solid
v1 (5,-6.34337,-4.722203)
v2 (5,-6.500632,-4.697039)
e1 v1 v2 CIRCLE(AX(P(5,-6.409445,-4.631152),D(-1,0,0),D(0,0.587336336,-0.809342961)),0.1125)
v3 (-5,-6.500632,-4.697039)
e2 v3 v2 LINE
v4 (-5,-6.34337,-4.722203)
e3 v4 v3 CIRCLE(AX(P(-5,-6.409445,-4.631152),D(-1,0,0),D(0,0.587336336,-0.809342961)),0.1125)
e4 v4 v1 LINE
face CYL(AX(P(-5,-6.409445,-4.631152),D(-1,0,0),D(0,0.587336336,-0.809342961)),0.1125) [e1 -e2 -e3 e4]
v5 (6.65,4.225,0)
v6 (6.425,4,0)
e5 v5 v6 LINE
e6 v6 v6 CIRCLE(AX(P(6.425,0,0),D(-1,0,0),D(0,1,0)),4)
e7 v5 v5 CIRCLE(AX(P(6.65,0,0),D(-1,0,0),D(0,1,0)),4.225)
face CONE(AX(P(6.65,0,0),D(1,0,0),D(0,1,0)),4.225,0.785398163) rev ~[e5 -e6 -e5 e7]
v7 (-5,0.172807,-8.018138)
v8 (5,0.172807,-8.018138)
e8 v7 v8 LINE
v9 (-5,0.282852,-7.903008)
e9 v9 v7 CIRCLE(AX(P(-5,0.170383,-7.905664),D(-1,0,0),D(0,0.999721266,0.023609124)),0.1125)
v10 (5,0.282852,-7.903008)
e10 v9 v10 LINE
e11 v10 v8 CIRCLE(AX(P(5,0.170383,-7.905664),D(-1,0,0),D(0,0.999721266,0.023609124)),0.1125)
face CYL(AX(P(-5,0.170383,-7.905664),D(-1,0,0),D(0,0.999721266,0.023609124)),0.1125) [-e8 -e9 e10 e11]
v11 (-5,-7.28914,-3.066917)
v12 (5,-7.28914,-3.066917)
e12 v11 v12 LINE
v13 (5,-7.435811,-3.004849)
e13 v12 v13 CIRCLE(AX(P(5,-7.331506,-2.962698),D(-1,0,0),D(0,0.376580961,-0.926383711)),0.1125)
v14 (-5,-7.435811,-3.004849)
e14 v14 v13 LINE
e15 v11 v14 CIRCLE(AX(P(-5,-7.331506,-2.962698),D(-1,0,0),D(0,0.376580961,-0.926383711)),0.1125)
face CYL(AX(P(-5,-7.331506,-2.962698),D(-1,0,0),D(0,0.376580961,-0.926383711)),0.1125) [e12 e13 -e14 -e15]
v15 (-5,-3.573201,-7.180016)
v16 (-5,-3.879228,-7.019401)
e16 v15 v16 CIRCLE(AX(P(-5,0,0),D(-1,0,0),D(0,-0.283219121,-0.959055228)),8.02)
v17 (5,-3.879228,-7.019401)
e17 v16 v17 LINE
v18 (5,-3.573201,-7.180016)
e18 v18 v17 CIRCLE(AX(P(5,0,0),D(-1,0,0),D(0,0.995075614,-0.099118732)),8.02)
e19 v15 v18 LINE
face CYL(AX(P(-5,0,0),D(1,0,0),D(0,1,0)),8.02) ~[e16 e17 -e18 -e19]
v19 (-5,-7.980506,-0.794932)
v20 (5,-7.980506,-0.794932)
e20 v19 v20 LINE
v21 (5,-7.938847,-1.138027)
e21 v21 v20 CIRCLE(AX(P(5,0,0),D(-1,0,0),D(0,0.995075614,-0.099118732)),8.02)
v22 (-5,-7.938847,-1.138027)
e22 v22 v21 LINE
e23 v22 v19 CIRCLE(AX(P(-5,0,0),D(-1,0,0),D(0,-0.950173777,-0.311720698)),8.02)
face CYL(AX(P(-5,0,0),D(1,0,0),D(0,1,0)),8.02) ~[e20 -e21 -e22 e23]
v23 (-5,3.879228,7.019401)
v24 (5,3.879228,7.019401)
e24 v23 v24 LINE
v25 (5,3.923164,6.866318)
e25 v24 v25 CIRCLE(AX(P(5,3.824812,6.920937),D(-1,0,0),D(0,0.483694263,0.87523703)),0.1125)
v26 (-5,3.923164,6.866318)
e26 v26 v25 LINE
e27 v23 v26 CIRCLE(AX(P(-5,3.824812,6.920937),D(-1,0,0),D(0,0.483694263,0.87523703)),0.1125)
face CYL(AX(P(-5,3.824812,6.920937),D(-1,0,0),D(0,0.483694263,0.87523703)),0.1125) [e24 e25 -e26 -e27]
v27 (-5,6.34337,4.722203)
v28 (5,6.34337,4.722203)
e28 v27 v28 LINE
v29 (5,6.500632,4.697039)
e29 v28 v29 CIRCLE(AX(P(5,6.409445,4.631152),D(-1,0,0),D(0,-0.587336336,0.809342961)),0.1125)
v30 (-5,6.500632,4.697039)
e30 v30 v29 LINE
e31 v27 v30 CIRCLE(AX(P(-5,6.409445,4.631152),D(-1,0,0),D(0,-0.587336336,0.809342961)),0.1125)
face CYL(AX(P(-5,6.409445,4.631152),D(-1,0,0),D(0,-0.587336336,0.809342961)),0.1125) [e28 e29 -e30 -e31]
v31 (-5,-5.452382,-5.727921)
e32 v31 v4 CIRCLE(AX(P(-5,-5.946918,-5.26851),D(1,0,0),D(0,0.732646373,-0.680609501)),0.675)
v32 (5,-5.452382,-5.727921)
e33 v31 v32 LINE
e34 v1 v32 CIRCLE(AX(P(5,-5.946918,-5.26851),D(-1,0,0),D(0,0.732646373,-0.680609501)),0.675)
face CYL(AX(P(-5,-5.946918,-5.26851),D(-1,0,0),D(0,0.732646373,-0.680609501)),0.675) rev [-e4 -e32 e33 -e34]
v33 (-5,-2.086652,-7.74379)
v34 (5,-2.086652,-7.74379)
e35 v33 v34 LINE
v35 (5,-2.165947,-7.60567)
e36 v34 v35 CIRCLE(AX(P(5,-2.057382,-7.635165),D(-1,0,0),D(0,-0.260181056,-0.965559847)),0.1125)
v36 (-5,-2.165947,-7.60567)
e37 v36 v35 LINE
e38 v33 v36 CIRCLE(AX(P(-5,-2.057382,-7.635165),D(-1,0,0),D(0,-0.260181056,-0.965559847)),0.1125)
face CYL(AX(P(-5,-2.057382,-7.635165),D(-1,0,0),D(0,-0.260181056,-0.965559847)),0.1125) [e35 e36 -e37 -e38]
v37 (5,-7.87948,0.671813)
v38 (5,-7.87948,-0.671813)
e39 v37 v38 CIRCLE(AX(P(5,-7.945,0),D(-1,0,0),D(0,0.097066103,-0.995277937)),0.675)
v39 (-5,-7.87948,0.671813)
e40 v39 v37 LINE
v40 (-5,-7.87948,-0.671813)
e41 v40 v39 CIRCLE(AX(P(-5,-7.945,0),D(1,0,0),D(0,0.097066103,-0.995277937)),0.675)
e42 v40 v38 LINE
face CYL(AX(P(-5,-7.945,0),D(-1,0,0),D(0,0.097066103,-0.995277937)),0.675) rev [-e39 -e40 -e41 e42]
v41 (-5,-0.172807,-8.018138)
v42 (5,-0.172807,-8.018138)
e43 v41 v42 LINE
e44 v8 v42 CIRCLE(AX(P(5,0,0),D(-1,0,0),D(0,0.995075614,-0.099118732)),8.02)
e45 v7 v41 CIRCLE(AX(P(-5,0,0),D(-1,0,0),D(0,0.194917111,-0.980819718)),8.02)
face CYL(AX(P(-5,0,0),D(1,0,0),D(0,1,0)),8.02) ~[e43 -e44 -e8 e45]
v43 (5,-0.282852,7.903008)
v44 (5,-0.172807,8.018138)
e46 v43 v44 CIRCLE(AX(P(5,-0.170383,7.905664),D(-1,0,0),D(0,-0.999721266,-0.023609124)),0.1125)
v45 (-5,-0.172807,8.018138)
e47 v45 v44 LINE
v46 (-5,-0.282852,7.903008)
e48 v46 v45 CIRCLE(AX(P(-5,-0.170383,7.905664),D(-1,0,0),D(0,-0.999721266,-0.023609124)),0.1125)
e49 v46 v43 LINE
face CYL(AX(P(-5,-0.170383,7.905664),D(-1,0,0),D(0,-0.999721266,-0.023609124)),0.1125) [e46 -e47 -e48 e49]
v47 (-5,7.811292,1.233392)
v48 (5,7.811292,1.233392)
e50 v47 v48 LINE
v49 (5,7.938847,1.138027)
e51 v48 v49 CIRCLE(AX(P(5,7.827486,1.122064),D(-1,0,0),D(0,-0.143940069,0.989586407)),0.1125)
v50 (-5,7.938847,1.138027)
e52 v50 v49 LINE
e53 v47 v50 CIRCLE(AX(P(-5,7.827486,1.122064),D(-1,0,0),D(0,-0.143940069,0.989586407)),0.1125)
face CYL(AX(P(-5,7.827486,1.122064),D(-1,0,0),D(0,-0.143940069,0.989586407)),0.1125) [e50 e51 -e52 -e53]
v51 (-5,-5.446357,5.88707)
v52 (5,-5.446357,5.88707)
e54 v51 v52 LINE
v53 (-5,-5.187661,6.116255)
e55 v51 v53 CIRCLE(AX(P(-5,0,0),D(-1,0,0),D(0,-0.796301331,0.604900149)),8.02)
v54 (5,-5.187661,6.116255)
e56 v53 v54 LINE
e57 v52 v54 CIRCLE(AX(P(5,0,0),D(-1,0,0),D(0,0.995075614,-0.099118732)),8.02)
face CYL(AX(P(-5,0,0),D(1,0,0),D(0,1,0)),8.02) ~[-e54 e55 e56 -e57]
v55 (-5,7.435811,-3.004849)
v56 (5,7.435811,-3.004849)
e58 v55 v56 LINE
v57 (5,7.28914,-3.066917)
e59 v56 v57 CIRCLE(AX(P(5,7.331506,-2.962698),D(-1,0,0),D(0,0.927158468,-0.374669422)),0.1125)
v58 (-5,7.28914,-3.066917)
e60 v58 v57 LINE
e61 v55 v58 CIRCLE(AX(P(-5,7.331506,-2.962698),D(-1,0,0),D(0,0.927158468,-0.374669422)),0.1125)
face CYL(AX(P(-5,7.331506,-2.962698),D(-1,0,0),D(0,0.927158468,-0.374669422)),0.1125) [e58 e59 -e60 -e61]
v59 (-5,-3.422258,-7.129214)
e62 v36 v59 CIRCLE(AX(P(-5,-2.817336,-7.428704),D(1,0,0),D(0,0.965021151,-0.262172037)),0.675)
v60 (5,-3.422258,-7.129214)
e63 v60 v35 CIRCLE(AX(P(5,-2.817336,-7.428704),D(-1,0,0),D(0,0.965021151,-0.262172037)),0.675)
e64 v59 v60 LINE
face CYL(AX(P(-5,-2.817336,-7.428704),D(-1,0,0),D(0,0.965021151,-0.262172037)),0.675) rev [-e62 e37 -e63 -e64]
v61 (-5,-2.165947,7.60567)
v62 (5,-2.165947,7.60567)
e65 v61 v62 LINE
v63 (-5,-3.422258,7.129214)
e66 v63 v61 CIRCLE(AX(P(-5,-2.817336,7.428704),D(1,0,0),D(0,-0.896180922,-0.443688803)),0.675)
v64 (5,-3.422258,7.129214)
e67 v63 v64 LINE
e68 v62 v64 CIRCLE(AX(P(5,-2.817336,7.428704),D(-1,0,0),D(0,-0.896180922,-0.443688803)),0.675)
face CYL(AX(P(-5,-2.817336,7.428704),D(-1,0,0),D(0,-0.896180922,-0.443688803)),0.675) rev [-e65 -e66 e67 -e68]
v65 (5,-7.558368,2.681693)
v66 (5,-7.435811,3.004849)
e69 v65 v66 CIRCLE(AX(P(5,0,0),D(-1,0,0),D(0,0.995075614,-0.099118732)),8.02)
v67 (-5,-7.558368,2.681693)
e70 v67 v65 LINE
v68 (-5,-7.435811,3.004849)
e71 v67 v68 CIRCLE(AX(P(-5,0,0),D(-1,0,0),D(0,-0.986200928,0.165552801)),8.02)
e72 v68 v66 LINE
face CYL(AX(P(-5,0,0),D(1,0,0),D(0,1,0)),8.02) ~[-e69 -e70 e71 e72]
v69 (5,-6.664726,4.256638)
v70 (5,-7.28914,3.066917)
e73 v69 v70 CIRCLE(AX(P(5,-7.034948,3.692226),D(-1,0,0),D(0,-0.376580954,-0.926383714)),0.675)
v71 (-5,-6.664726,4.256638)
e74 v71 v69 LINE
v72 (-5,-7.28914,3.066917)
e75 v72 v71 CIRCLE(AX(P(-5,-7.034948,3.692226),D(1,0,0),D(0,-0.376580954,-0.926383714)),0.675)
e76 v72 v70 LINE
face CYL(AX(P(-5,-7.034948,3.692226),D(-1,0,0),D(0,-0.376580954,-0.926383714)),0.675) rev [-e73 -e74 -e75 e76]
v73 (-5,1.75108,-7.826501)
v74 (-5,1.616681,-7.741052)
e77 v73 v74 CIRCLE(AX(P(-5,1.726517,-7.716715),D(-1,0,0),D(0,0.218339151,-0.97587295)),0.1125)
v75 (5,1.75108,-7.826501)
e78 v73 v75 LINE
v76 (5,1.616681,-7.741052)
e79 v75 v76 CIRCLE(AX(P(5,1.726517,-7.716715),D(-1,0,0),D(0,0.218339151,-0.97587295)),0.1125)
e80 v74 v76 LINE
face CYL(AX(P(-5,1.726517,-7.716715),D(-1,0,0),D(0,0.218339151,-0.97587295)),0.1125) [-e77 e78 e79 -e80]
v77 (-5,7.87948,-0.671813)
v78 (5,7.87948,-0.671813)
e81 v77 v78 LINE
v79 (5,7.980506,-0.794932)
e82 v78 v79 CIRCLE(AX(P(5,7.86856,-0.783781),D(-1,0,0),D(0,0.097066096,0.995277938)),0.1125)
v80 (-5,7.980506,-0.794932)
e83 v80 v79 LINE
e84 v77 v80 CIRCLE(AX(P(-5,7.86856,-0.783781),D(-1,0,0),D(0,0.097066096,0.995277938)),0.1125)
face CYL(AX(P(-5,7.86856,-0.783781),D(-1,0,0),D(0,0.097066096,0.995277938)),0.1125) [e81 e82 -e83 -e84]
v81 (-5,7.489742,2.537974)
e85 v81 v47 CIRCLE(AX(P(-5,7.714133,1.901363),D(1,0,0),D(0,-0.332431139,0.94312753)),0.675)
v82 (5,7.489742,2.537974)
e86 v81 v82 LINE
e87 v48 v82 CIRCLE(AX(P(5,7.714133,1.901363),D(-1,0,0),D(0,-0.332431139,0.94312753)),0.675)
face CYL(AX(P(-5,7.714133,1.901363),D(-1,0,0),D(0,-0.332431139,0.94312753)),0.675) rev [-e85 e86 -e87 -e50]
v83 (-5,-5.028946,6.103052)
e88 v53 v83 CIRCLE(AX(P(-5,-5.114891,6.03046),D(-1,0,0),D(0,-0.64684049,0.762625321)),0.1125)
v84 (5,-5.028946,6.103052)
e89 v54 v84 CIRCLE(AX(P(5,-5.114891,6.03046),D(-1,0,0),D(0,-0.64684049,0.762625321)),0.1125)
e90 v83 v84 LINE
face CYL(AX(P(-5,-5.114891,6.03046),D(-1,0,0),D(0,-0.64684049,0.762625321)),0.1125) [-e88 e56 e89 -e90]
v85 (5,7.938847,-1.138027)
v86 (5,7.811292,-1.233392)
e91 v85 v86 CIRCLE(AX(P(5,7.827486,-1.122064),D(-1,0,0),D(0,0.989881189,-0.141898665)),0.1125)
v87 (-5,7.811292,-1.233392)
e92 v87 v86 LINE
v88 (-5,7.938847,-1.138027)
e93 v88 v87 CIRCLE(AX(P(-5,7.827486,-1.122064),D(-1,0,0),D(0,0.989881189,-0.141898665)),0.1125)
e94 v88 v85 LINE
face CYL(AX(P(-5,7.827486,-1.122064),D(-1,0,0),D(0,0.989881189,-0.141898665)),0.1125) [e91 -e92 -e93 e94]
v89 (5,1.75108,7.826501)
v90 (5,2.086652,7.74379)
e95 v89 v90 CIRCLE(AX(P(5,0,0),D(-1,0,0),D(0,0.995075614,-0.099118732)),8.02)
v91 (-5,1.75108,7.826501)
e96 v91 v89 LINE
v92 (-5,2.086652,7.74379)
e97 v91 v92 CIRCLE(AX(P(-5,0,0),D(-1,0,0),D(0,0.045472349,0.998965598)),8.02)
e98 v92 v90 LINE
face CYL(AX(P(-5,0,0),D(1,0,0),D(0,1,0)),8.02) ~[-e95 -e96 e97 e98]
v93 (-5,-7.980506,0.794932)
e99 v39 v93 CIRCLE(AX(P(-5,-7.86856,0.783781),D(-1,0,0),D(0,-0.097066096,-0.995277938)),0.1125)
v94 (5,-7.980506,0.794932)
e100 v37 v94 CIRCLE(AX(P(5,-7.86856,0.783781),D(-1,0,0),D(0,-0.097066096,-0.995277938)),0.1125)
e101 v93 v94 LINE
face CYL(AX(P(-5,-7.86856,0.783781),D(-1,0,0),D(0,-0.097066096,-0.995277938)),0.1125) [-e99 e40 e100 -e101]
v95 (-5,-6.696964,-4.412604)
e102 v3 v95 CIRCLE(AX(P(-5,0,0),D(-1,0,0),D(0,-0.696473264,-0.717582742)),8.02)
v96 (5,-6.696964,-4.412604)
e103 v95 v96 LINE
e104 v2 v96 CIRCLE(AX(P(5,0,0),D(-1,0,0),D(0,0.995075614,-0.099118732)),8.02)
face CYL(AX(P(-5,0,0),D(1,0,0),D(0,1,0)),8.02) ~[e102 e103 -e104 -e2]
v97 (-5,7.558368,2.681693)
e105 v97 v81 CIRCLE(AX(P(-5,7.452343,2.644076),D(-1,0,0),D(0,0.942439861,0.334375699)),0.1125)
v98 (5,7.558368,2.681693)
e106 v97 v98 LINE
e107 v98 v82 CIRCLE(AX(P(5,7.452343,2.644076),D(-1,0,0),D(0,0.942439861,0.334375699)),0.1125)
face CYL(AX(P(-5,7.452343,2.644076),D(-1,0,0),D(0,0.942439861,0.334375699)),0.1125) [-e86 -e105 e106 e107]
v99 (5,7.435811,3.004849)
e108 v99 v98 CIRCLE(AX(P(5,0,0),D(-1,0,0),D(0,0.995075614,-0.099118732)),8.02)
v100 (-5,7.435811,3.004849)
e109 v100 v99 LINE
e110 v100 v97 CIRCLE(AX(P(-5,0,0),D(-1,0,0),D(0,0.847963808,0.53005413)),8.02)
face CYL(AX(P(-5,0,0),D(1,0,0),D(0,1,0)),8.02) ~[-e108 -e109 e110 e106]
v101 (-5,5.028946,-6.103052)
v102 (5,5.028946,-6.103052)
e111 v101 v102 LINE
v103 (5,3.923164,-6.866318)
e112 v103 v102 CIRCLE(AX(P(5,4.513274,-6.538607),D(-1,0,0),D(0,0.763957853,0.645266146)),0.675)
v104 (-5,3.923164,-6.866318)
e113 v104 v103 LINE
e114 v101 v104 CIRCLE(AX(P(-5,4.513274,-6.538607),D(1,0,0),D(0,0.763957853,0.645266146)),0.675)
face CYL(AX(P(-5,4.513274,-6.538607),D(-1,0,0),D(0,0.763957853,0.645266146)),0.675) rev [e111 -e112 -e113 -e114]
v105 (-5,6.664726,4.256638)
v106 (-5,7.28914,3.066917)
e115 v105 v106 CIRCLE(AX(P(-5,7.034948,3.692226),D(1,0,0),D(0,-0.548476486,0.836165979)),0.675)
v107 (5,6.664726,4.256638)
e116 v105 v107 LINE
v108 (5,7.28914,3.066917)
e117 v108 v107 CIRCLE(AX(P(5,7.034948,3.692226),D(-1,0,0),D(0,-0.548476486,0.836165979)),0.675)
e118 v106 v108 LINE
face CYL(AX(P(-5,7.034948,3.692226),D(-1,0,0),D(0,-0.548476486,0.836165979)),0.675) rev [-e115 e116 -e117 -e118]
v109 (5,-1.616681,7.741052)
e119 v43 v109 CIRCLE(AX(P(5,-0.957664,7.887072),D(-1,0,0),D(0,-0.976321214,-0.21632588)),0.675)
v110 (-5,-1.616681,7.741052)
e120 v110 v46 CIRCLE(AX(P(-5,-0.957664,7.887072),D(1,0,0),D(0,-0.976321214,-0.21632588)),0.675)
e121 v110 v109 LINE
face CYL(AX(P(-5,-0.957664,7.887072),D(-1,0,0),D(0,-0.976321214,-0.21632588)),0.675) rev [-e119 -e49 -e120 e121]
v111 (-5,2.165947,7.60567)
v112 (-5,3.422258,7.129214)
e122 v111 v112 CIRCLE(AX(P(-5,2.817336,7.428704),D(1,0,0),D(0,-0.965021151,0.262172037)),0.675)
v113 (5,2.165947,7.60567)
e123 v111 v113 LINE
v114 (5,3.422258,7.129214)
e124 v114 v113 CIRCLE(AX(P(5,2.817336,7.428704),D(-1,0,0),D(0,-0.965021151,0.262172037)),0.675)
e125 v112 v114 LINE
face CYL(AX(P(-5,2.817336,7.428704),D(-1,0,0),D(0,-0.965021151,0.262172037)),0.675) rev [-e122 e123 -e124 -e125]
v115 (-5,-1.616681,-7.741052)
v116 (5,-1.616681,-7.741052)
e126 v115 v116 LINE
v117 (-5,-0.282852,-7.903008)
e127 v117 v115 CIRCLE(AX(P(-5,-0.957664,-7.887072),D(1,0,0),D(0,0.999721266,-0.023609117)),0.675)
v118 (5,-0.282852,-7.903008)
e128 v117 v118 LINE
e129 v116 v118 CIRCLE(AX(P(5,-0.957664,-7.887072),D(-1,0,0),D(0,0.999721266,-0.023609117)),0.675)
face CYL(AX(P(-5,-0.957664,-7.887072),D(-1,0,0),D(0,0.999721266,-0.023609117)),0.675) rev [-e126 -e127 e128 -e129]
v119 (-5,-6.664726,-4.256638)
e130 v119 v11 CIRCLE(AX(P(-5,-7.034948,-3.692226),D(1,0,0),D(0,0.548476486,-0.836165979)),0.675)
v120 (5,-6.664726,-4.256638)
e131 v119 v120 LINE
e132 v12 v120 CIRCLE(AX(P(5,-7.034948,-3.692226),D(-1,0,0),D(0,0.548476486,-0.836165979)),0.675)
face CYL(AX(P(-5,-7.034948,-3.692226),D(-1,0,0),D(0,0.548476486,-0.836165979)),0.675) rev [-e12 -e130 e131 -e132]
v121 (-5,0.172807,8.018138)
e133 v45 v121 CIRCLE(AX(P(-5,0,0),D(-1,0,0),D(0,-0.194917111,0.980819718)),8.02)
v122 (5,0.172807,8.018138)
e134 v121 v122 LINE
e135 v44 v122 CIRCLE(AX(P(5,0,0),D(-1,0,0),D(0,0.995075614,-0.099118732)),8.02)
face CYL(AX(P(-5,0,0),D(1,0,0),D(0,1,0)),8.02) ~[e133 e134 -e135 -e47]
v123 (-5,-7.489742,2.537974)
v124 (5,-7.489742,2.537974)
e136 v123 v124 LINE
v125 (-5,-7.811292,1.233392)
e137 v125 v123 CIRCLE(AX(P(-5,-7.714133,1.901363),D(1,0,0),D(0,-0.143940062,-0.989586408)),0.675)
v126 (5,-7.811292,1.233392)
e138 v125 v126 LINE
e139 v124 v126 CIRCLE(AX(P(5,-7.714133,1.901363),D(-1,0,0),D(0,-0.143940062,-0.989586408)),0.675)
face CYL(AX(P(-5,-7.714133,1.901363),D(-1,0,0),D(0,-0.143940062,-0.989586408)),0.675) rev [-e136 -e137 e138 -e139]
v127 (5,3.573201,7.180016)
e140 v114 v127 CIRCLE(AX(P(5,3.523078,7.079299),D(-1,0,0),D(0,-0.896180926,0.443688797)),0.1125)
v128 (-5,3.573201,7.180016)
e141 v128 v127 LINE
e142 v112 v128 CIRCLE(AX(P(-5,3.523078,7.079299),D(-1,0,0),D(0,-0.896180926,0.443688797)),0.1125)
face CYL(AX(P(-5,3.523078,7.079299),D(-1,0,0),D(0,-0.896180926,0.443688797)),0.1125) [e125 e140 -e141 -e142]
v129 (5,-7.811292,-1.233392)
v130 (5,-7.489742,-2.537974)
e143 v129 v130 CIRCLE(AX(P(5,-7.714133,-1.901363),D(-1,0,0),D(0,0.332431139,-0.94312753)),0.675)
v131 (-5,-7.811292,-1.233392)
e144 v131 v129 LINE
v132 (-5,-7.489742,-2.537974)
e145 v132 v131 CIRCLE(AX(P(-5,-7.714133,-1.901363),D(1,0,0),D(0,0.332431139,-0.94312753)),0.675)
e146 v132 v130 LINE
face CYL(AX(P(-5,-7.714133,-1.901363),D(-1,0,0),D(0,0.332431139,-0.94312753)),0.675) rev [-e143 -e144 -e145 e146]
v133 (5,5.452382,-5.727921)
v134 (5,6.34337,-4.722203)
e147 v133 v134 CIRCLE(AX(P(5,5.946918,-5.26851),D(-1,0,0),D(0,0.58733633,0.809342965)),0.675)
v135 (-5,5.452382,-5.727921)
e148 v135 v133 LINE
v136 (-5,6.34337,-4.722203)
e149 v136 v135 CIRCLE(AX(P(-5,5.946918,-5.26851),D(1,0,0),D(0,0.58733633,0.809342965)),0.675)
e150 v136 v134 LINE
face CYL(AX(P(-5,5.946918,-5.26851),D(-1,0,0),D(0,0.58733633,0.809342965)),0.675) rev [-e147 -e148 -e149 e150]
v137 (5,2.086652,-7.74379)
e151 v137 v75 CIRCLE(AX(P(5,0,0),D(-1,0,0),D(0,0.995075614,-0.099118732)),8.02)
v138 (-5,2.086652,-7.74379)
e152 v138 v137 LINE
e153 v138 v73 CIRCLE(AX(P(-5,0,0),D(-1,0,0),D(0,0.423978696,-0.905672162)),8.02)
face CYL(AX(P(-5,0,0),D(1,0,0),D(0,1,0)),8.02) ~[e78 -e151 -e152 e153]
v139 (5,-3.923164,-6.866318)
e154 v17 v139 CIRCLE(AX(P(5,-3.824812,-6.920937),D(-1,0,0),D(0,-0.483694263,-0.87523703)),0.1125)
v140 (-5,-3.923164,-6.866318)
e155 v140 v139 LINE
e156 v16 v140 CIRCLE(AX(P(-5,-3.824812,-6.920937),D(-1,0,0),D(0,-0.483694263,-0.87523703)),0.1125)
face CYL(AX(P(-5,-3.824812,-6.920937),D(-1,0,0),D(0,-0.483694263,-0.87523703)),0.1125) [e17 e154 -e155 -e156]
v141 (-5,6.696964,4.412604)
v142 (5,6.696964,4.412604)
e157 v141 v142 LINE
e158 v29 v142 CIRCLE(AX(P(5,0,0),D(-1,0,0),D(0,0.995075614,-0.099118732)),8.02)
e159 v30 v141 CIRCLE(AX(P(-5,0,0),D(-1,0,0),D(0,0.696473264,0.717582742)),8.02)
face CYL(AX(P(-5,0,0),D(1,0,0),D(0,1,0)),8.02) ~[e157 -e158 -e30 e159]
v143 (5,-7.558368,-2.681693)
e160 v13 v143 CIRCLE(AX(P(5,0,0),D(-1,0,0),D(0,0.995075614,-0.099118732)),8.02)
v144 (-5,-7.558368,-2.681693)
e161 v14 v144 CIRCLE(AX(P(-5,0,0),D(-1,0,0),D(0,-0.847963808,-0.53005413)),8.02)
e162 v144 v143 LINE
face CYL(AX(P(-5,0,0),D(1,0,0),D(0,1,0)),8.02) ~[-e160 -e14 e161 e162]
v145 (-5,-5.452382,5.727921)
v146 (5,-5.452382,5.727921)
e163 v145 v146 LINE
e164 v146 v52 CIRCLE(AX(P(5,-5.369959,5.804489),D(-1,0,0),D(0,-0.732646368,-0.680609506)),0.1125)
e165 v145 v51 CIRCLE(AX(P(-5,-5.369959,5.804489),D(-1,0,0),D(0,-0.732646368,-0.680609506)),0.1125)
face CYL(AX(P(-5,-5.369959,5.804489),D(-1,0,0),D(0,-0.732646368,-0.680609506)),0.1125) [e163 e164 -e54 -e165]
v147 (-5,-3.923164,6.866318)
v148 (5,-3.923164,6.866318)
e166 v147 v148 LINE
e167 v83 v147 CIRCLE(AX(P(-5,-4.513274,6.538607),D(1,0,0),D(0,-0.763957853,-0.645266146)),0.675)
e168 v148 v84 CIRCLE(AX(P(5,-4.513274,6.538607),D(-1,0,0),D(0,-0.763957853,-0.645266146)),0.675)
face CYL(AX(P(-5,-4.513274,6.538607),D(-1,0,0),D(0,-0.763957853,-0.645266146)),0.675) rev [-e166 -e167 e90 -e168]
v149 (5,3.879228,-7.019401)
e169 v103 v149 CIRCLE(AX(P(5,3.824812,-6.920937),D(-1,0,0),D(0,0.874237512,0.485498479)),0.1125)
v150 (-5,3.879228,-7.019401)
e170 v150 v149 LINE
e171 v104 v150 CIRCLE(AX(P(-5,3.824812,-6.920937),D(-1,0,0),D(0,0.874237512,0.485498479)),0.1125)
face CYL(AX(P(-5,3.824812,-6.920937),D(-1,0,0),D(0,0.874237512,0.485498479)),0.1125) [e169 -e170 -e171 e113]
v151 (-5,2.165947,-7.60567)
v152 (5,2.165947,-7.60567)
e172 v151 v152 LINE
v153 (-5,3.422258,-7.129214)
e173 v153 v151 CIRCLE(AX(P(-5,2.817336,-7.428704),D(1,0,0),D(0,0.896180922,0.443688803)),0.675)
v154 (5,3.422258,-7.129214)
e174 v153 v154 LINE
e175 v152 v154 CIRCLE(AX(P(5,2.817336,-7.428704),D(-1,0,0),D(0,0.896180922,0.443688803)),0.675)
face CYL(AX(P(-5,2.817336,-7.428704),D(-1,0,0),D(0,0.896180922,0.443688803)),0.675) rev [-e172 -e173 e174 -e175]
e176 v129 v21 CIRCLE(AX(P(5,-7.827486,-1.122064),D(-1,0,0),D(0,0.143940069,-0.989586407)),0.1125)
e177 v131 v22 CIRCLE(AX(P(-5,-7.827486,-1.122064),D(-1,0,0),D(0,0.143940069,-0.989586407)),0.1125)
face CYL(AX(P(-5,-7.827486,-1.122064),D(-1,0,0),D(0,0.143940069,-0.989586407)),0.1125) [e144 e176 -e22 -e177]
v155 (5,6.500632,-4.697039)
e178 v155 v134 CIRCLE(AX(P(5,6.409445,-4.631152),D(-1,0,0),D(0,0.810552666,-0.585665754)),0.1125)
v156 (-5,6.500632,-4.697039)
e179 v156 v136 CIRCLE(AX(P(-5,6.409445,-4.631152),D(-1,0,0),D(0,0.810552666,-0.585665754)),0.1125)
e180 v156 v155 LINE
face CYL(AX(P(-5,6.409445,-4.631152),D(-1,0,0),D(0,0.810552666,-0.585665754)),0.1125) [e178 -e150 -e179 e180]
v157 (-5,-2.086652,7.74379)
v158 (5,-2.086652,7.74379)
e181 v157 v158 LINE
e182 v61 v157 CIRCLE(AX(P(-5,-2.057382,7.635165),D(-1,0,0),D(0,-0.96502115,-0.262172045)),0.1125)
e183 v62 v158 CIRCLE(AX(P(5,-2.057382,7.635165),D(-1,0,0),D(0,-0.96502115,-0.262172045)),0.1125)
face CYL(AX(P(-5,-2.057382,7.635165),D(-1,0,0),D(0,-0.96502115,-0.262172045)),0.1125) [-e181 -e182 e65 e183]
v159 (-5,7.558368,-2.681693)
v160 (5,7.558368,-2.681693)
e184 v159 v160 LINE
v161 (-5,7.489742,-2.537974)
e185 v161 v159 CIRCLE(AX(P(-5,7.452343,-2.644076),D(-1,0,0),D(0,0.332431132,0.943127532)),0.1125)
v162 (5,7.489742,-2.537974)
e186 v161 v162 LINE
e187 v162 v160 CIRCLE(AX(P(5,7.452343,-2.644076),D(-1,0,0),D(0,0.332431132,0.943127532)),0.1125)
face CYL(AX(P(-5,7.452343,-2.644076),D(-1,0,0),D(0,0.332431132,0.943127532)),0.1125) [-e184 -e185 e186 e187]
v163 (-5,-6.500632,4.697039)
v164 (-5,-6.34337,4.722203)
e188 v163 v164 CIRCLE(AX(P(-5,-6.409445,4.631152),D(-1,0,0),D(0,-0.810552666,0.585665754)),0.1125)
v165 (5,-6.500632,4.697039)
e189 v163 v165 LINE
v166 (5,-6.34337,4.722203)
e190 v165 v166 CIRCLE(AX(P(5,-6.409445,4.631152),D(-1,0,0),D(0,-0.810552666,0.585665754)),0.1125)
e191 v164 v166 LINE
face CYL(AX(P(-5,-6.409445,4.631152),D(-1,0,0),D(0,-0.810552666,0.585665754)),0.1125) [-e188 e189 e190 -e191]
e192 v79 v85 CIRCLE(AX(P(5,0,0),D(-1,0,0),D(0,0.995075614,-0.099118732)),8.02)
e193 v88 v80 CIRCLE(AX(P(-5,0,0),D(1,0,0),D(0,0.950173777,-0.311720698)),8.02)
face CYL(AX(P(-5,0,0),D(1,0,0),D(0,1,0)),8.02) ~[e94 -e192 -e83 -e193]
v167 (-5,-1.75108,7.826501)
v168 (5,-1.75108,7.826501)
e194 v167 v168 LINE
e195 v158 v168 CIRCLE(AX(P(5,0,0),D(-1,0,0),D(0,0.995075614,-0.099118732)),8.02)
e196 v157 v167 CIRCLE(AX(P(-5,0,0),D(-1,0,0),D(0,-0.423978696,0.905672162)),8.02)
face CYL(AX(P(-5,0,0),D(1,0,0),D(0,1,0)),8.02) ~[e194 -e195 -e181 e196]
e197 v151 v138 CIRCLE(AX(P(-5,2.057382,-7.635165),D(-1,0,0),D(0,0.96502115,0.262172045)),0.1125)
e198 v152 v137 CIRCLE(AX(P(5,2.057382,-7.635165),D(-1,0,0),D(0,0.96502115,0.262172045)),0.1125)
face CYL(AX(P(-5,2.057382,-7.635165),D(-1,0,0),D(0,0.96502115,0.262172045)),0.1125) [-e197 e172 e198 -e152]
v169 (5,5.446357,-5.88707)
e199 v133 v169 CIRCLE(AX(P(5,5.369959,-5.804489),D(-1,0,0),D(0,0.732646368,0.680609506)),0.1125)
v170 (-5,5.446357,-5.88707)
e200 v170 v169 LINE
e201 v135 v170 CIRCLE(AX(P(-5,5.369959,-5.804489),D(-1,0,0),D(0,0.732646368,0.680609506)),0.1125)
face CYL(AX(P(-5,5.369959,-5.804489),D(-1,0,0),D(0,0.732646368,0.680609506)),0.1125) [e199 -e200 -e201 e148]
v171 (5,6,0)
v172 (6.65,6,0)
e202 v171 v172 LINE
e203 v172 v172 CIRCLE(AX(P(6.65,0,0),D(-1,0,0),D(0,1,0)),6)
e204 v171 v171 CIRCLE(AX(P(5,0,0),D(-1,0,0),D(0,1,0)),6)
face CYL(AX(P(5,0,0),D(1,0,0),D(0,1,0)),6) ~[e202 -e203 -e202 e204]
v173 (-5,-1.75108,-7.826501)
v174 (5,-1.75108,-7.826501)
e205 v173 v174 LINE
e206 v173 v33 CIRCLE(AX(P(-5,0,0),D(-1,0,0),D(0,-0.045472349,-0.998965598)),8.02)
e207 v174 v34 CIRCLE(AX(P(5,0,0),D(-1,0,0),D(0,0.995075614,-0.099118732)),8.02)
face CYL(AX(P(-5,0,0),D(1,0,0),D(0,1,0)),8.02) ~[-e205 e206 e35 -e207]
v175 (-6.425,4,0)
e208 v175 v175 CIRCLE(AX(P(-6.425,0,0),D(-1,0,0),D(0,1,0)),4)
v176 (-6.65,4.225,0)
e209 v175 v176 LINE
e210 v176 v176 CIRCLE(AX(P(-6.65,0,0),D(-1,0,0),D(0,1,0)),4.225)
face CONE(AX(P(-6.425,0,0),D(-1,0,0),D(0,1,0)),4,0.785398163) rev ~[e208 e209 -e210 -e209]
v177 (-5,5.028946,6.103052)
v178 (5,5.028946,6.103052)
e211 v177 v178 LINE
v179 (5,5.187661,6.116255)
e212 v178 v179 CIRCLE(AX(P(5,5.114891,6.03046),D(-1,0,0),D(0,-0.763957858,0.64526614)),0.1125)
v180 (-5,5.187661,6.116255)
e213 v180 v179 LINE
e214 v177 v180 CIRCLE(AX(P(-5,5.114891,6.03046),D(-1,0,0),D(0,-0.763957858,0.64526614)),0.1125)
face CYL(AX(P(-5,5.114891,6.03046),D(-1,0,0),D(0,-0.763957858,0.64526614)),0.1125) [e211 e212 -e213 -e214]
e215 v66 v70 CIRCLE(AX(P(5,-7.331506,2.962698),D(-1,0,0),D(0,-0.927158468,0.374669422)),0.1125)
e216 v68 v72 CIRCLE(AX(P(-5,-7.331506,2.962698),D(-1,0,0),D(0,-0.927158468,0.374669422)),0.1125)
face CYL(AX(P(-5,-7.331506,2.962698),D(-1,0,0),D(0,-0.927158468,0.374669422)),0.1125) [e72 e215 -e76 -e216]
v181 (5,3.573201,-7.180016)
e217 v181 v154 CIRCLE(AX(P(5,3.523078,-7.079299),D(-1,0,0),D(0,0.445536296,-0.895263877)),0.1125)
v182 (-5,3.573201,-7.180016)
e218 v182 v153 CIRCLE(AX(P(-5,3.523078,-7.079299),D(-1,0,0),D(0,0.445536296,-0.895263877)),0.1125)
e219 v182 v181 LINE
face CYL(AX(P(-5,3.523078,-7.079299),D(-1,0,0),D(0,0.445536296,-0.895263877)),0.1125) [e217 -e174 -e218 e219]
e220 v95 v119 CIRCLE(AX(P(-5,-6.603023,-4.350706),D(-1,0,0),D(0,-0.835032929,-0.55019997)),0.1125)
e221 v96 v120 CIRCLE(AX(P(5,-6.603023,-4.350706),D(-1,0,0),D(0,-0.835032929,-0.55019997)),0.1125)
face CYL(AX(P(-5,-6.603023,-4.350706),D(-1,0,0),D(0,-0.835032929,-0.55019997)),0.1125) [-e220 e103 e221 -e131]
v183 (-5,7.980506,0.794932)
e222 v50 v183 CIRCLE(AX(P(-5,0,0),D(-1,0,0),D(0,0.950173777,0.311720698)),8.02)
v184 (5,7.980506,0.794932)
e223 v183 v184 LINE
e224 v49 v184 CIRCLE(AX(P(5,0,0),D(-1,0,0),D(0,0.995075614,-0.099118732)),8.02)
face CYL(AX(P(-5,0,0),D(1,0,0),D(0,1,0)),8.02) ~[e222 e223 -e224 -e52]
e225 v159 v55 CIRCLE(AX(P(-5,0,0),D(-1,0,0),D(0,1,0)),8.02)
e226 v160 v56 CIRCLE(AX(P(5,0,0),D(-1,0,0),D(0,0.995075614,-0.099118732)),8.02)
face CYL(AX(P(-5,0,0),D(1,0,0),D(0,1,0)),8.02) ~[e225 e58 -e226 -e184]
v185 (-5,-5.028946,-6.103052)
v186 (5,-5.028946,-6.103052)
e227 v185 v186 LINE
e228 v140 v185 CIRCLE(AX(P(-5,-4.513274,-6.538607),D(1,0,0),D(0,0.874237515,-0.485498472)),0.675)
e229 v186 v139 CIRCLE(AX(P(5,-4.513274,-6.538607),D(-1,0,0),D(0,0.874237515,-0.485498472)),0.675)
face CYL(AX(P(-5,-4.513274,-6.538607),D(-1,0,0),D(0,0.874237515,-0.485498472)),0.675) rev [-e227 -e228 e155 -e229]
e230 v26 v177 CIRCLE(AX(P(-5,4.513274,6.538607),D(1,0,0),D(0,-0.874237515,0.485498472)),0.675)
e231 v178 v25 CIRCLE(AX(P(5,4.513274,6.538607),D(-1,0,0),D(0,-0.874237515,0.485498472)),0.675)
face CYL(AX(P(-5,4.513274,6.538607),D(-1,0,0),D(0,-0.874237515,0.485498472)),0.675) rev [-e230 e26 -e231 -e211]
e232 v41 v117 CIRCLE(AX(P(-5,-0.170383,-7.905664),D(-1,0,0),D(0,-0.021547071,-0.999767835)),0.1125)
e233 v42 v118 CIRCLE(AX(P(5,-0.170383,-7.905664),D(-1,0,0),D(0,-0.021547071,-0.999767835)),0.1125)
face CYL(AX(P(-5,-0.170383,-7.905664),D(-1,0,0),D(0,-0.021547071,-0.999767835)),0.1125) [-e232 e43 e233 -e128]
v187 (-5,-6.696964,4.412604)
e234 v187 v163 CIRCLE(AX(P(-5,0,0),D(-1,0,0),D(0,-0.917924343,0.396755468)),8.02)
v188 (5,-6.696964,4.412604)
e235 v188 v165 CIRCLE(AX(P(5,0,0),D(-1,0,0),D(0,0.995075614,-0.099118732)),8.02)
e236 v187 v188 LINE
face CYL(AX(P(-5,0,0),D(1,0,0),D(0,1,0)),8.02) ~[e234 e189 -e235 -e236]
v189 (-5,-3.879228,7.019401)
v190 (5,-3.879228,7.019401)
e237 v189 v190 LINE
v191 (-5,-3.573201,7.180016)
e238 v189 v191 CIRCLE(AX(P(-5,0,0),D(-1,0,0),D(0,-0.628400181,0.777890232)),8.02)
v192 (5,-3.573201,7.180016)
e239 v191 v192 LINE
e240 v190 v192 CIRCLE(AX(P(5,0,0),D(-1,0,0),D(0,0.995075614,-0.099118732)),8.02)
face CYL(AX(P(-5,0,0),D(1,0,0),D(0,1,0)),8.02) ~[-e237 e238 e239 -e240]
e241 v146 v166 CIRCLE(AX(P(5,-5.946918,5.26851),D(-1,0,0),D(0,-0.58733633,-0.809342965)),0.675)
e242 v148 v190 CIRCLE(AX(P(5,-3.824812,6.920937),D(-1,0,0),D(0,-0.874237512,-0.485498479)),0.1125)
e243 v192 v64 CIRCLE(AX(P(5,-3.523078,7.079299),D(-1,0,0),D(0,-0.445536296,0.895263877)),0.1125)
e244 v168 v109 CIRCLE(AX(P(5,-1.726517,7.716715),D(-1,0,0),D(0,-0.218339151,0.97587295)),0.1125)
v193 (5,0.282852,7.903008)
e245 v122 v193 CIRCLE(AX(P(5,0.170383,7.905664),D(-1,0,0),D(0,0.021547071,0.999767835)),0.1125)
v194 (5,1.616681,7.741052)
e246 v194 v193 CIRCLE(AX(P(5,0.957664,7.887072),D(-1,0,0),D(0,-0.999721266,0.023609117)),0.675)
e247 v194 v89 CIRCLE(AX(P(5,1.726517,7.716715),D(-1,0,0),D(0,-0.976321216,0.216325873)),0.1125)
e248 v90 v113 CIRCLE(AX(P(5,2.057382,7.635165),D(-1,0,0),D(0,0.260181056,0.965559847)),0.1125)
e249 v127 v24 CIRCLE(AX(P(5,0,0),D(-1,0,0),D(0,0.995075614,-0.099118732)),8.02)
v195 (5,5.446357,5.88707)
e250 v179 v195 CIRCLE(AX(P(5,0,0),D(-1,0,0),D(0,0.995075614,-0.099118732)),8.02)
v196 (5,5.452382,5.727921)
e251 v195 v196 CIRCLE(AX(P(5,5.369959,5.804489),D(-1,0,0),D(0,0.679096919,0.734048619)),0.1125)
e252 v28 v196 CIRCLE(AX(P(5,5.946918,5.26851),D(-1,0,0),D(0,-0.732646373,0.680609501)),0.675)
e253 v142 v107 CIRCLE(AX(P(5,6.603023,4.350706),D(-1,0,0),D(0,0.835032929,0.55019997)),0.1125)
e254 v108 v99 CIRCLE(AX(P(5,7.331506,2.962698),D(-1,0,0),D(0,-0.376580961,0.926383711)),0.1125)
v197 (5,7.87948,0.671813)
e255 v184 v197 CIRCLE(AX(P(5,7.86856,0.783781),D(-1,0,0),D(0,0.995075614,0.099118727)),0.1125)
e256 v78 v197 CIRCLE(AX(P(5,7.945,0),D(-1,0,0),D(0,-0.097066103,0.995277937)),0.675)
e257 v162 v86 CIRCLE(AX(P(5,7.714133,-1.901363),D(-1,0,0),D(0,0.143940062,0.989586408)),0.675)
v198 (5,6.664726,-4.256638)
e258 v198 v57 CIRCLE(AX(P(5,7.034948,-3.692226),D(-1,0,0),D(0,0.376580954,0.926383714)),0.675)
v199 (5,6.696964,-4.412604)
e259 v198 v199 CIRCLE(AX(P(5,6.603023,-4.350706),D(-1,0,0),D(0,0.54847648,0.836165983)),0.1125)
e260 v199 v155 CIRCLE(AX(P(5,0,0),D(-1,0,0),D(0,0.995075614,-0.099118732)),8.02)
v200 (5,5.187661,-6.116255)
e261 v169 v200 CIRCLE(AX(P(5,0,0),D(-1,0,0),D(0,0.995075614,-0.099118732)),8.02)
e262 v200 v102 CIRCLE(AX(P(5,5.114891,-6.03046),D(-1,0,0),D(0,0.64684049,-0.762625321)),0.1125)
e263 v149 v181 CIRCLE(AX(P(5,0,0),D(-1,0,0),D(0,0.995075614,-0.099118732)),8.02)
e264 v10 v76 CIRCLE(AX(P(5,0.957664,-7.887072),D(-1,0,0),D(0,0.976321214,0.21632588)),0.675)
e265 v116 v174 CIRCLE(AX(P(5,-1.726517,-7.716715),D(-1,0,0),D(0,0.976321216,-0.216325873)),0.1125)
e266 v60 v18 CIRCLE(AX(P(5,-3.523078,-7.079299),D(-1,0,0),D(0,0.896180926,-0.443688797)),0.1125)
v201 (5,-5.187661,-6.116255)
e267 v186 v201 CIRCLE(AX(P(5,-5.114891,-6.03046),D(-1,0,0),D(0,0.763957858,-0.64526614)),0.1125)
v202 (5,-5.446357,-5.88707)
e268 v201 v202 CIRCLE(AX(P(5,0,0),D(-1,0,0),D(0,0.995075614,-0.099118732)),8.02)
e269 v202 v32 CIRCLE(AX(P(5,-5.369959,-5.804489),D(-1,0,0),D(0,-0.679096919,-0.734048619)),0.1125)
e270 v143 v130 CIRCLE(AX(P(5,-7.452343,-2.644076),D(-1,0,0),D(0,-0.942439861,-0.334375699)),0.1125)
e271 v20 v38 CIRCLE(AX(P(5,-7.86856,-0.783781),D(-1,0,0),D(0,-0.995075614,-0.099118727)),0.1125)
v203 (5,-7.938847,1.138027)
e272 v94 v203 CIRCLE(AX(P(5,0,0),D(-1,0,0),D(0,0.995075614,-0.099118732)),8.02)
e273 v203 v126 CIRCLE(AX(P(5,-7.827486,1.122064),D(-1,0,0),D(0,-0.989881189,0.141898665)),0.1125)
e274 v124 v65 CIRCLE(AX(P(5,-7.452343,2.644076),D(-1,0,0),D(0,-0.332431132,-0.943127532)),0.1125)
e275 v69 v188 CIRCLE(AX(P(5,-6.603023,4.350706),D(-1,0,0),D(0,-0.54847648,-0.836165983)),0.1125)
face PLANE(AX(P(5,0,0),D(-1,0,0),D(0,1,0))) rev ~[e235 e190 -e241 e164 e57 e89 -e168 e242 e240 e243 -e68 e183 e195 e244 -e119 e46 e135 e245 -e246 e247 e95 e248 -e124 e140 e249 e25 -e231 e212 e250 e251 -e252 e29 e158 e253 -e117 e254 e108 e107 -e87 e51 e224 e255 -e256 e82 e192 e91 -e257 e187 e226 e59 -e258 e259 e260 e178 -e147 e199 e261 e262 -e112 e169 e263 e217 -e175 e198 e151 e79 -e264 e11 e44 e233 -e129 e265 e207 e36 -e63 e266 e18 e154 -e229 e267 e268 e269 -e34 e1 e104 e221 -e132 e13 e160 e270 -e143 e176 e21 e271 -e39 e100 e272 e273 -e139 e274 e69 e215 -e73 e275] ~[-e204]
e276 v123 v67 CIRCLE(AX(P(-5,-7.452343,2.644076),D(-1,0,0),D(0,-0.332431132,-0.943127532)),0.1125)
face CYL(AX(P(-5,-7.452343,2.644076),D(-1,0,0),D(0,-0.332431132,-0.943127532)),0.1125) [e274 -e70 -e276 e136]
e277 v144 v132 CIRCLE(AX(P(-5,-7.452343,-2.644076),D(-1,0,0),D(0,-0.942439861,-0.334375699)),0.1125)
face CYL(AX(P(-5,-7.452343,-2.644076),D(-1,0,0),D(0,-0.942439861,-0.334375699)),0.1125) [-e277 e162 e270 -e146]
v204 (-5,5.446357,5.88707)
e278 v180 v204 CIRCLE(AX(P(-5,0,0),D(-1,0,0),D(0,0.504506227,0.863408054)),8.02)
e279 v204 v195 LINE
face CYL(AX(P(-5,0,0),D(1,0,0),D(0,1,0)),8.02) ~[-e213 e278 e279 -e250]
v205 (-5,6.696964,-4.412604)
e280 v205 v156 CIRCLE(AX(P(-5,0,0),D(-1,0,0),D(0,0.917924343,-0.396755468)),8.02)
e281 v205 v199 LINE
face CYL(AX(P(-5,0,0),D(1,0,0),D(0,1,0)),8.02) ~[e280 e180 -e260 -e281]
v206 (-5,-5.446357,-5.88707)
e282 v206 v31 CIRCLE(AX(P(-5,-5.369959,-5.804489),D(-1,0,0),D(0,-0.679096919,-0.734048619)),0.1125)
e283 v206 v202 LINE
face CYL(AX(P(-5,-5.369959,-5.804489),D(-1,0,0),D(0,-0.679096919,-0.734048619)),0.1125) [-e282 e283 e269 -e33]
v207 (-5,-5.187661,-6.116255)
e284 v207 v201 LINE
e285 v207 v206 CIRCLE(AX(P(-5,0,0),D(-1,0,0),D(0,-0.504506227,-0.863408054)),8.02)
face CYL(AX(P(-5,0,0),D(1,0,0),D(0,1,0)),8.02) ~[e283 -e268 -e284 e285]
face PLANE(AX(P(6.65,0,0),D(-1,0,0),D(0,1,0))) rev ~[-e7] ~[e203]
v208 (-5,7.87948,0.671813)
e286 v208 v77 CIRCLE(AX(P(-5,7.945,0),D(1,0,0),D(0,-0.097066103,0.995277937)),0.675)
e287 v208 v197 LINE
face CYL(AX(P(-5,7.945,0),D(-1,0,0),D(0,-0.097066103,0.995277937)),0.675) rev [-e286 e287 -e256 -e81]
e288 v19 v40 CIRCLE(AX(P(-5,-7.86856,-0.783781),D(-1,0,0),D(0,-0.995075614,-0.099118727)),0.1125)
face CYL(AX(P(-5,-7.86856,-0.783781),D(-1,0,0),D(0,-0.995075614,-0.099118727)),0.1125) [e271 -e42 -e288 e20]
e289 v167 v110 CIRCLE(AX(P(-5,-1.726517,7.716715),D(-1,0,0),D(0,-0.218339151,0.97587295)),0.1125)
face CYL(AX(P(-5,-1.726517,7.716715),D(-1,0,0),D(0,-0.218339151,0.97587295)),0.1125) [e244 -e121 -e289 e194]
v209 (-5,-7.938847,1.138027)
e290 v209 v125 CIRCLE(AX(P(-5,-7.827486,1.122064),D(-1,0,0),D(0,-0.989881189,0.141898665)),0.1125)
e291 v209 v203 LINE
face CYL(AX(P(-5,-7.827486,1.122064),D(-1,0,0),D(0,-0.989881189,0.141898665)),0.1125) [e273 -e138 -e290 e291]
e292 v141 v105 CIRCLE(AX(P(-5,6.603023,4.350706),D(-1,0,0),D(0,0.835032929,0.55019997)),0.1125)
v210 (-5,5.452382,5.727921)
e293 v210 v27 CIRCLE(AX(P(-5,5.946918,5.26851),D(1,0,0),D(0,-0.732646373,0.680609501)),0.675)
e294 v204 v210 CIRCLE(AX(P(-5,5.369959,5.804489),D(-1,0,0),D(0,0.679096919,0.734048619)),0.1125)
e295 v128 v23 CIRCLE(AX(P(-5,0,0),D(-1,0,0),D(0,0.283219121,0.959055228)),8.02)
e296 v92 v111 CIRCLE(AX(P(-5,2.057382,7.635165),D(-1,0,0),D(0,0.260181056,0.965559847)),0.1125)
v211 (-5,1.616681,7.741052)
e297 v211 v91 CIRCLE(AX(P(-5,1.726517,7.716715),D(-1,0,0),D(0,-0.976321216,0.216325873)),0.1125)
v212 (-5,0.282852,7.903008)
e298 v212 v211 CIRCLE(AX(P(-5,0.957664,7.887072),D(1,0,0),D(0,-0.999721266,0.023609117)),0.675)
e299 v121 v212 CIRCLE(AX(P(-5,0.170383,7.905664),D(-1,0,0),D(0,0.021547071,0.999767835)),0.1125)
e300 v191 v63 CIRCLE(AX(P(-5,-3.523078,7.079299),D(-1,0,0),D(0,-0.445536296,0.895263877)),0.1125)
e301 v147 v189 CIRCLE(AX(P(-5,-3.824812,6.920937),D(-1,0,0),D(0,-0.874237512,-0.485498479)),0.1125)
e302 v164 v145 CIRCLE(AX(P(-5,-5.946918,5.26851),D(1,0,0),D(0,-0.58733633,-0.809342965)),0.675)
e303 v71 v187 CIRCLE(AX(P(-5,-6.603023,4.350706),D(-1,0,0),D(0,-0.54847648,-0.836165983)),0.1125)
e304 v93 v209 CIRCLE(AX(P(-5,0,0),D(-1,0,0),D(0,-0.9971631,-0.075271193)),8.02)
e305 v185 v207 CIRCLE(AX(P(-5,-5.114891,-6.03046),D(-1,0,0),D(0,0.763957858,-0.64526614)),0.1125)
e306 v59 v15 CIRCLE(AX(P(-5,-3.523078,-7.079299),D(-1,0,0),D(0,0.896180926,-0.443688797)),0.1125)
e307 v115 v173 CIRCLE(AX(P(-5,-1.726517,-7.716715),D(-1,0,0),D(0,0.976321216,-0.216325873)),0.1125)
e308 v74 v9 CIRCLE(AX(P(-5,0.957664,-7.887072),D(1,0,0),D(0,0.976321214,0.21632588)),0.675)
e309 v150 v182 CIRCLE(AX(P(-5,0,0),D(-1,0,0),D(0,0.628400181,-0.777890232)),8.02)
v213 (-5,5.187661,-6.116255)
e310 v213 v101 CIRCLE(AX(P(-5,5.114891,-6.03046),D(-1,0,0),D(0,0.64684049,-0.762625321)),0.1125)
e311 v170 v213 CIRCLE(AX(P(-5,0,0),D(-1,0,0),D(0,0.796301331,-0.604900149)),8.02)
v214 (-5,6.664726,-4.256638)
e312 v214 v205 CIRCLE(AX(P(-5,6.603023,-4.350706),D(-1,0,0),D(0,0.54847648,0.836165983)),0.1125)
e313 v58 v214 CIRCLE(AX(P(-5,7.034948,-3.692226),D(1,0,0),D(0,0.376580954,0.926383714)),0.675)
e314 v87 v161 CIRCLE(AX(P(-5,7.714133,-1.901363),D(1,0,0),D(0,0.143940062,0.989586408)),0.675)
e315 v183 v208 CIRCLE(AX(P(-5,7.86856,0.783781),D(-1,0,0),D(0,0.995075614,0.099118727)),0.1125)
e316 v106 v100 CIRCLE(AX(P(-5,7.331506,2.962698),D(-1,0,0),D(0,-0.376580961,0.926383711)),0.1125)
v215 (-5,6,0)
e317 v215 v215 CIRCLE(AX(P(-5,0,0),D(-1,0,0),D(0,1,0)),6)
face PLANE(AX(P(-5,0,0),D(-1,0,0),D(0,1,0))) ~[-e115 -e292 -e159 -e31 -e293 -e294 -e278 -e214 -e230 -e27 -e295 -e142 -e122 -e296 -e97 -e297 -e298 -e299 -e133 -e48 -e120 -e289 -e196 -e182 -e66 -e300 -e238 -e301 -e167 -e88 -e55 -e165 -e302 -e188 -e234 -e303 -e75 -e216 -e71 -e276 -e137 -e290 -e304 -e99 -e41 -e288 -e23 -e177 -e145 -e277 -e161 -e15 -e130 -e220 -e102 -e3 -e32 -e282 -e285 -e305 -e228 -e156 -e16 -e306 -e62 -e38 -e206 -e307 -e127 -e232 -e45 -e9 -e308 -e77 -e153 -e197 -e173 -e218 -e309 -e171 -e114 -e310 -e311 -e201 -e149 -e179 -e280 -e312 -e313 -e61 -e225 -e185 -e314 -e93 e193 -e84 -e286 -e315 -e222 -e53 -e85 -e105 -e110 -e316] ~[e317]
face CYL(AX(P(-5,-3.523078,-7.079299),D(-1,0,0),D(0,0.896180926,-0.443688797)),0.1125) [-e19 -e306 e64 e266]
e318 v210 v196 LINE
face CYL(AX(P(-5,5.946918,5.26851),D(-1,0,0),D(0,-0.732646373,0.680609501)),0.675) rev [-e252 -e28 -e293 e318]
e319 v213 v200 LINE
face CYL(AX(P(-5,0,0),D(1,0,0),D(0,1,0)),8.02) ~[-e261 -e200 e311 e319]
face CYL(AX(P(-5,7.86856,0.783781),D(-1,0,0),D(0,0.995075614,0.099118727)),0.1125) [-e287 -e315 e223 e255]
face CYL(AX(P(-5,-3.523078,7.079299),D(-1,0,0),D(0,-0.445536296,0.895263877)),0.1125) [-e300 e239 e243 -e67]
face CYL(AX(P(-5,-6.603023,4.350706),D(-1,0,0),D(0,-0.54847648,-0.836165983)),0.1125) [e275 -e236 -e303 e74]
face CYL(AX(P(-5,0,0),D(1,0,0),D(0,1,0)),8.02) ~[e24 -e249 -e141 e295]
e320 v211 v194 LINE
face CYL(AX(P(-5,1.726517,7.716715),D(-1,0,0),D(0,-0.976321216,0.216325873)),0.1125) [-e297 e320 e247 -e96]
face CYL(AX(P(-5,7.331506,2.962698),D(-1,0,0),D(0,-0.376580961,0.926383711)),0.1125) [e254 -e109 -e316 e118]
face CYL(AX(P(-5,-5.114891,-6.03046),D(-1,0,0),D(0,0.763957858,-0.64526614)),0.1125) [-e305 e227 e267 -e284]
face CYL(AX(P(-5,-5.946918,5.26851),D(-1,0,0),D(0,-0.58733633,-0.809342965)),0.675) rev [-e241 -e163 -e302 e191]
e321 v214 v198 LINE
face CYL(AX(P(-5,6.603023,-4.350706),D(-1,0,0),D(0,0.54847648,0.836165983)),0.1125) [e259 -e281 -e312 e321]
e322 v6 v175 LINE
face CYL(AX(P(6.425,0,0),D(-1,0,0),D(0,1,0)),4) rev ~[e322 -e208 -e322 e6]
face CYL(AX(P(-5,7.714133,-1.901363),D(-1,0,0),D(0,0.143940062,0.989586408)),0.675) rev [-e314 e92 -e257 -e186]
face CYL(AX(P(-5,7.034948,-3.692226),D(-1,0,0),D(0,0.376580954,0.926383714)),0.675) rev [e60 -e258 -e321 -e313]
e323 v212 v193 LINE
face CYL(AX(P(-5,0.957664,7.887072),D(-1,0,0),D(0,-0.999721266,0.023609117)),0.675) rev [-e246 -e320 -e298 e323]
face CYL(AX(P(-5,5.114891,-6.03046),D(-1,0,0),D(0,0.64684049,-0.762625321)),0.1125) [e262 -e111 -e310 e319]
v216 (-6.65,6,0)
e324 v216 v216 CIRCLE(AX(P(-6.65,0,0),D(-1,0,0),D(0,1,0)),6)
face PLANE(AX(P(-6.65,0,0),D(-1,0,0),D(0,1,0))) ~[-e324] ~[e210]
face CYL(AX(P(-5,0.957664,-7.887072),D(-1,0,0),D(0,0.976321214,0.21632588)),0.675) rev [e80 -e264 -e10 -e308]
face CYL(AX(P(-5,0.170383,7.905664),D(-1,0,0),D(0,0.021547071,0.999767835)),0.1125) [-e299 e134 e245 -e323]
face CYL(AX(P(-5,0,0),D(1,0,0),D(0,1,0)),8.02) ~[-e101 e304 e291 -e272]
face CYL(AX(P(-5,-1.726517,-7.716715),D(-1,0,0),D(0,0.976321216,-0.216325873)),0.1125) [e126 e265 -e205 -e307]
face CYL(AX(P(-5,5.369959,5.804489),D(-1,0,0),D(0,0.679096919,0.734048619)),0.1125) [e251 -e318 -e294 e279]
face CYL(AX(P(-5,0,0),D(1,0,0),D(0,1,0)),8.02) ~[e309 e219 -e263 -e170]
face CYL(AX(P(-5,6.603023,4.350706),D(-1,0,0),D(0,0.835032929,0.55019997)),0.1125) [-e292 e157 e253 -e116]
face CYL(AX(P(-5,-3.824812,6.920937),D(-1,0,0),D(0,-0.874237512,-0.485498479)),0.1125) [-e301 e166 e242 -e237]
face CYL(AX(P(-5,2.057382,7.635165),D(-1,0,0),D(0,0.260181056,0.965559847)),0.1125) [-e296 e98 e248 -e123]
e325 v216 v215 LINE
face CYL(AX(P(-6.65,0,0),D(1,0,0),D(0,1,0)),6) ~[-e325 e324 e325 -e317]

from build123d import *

# Parameters (mm, degrees)
CUT_EXTRUDE1_DEPTH = 12.65
CIRPATTERN1_COUNT  = 26


with BuildPart() as part:
    # Sketch1 → Revolve1 (revolve)
    with BuildSketch(Plane.XY):
        Polygon((-5, 8.02), (5, 8.02), (5, 6), (6.65, 6), (6.65, 4.225), (6.425, 4), (-6.425, 4), (-6.65, 4.225), (-6.65, 6), (-5, 6), align=None)
    revolve(axis=Axis((17.85, 0, 0), (-1, 0, 0)))

    # Sketch5 → Cut-Extrude1 (cut, through all)
    with BuildSketch(Plane(origin=(-5, 0, -21.5), x_dir=(0, 0, 1), z_dir=(-1, 0, 0))):
        with BuildLine():
            Line((19, 7.620393691), (19, 7.888322065))
            ThreePointArc((19, 7.888322065), (21.5, 8.275), (24, 7.888322065))
            Line((24, 7.888322065), (24, 7.620393691))
            ThreePointArc((24, 7.620393691), (23.15727635, 7.846899713), (22.294932233, 7.980506422))
            ThreePointArc((22.294932233, 7.980506422), (22.212418714, 7.955529493), (22.171812608, 7.879480351))
            ThreePointArc((22.171812608, 7.879480351), (21.5, 7.26999997), (20.828187392, 7.879480351))
            ThreePointArc((20.828187392, 7.879480351), (20.787581286, 7.955529493), (20.705067767, 7.980506422))
            ThreePointArc((20.705067767, 7.980506422), (19.84272365, 7.846899713), (19, 7.620393691))
        make_face()
    cut_extrude1 = extrude(amount=-CUT_EXTRUDE1_DEPTH, mode=Mode.SUBTRACT)

    # CirPattern1: Cut-Extrude1 ×26 about axis
    cirpattern1_axis = Axis((0, 0, 0), (1, 0, 0))
    for i in range(1, CIRPATTERN1_COUNT):
        add(cut_extrude1.rotate(cirpattern1_axis, i * 360 / CIRPATTERN1_COUNT), mode=Mode.SUBTRACT)


solid = part.part
